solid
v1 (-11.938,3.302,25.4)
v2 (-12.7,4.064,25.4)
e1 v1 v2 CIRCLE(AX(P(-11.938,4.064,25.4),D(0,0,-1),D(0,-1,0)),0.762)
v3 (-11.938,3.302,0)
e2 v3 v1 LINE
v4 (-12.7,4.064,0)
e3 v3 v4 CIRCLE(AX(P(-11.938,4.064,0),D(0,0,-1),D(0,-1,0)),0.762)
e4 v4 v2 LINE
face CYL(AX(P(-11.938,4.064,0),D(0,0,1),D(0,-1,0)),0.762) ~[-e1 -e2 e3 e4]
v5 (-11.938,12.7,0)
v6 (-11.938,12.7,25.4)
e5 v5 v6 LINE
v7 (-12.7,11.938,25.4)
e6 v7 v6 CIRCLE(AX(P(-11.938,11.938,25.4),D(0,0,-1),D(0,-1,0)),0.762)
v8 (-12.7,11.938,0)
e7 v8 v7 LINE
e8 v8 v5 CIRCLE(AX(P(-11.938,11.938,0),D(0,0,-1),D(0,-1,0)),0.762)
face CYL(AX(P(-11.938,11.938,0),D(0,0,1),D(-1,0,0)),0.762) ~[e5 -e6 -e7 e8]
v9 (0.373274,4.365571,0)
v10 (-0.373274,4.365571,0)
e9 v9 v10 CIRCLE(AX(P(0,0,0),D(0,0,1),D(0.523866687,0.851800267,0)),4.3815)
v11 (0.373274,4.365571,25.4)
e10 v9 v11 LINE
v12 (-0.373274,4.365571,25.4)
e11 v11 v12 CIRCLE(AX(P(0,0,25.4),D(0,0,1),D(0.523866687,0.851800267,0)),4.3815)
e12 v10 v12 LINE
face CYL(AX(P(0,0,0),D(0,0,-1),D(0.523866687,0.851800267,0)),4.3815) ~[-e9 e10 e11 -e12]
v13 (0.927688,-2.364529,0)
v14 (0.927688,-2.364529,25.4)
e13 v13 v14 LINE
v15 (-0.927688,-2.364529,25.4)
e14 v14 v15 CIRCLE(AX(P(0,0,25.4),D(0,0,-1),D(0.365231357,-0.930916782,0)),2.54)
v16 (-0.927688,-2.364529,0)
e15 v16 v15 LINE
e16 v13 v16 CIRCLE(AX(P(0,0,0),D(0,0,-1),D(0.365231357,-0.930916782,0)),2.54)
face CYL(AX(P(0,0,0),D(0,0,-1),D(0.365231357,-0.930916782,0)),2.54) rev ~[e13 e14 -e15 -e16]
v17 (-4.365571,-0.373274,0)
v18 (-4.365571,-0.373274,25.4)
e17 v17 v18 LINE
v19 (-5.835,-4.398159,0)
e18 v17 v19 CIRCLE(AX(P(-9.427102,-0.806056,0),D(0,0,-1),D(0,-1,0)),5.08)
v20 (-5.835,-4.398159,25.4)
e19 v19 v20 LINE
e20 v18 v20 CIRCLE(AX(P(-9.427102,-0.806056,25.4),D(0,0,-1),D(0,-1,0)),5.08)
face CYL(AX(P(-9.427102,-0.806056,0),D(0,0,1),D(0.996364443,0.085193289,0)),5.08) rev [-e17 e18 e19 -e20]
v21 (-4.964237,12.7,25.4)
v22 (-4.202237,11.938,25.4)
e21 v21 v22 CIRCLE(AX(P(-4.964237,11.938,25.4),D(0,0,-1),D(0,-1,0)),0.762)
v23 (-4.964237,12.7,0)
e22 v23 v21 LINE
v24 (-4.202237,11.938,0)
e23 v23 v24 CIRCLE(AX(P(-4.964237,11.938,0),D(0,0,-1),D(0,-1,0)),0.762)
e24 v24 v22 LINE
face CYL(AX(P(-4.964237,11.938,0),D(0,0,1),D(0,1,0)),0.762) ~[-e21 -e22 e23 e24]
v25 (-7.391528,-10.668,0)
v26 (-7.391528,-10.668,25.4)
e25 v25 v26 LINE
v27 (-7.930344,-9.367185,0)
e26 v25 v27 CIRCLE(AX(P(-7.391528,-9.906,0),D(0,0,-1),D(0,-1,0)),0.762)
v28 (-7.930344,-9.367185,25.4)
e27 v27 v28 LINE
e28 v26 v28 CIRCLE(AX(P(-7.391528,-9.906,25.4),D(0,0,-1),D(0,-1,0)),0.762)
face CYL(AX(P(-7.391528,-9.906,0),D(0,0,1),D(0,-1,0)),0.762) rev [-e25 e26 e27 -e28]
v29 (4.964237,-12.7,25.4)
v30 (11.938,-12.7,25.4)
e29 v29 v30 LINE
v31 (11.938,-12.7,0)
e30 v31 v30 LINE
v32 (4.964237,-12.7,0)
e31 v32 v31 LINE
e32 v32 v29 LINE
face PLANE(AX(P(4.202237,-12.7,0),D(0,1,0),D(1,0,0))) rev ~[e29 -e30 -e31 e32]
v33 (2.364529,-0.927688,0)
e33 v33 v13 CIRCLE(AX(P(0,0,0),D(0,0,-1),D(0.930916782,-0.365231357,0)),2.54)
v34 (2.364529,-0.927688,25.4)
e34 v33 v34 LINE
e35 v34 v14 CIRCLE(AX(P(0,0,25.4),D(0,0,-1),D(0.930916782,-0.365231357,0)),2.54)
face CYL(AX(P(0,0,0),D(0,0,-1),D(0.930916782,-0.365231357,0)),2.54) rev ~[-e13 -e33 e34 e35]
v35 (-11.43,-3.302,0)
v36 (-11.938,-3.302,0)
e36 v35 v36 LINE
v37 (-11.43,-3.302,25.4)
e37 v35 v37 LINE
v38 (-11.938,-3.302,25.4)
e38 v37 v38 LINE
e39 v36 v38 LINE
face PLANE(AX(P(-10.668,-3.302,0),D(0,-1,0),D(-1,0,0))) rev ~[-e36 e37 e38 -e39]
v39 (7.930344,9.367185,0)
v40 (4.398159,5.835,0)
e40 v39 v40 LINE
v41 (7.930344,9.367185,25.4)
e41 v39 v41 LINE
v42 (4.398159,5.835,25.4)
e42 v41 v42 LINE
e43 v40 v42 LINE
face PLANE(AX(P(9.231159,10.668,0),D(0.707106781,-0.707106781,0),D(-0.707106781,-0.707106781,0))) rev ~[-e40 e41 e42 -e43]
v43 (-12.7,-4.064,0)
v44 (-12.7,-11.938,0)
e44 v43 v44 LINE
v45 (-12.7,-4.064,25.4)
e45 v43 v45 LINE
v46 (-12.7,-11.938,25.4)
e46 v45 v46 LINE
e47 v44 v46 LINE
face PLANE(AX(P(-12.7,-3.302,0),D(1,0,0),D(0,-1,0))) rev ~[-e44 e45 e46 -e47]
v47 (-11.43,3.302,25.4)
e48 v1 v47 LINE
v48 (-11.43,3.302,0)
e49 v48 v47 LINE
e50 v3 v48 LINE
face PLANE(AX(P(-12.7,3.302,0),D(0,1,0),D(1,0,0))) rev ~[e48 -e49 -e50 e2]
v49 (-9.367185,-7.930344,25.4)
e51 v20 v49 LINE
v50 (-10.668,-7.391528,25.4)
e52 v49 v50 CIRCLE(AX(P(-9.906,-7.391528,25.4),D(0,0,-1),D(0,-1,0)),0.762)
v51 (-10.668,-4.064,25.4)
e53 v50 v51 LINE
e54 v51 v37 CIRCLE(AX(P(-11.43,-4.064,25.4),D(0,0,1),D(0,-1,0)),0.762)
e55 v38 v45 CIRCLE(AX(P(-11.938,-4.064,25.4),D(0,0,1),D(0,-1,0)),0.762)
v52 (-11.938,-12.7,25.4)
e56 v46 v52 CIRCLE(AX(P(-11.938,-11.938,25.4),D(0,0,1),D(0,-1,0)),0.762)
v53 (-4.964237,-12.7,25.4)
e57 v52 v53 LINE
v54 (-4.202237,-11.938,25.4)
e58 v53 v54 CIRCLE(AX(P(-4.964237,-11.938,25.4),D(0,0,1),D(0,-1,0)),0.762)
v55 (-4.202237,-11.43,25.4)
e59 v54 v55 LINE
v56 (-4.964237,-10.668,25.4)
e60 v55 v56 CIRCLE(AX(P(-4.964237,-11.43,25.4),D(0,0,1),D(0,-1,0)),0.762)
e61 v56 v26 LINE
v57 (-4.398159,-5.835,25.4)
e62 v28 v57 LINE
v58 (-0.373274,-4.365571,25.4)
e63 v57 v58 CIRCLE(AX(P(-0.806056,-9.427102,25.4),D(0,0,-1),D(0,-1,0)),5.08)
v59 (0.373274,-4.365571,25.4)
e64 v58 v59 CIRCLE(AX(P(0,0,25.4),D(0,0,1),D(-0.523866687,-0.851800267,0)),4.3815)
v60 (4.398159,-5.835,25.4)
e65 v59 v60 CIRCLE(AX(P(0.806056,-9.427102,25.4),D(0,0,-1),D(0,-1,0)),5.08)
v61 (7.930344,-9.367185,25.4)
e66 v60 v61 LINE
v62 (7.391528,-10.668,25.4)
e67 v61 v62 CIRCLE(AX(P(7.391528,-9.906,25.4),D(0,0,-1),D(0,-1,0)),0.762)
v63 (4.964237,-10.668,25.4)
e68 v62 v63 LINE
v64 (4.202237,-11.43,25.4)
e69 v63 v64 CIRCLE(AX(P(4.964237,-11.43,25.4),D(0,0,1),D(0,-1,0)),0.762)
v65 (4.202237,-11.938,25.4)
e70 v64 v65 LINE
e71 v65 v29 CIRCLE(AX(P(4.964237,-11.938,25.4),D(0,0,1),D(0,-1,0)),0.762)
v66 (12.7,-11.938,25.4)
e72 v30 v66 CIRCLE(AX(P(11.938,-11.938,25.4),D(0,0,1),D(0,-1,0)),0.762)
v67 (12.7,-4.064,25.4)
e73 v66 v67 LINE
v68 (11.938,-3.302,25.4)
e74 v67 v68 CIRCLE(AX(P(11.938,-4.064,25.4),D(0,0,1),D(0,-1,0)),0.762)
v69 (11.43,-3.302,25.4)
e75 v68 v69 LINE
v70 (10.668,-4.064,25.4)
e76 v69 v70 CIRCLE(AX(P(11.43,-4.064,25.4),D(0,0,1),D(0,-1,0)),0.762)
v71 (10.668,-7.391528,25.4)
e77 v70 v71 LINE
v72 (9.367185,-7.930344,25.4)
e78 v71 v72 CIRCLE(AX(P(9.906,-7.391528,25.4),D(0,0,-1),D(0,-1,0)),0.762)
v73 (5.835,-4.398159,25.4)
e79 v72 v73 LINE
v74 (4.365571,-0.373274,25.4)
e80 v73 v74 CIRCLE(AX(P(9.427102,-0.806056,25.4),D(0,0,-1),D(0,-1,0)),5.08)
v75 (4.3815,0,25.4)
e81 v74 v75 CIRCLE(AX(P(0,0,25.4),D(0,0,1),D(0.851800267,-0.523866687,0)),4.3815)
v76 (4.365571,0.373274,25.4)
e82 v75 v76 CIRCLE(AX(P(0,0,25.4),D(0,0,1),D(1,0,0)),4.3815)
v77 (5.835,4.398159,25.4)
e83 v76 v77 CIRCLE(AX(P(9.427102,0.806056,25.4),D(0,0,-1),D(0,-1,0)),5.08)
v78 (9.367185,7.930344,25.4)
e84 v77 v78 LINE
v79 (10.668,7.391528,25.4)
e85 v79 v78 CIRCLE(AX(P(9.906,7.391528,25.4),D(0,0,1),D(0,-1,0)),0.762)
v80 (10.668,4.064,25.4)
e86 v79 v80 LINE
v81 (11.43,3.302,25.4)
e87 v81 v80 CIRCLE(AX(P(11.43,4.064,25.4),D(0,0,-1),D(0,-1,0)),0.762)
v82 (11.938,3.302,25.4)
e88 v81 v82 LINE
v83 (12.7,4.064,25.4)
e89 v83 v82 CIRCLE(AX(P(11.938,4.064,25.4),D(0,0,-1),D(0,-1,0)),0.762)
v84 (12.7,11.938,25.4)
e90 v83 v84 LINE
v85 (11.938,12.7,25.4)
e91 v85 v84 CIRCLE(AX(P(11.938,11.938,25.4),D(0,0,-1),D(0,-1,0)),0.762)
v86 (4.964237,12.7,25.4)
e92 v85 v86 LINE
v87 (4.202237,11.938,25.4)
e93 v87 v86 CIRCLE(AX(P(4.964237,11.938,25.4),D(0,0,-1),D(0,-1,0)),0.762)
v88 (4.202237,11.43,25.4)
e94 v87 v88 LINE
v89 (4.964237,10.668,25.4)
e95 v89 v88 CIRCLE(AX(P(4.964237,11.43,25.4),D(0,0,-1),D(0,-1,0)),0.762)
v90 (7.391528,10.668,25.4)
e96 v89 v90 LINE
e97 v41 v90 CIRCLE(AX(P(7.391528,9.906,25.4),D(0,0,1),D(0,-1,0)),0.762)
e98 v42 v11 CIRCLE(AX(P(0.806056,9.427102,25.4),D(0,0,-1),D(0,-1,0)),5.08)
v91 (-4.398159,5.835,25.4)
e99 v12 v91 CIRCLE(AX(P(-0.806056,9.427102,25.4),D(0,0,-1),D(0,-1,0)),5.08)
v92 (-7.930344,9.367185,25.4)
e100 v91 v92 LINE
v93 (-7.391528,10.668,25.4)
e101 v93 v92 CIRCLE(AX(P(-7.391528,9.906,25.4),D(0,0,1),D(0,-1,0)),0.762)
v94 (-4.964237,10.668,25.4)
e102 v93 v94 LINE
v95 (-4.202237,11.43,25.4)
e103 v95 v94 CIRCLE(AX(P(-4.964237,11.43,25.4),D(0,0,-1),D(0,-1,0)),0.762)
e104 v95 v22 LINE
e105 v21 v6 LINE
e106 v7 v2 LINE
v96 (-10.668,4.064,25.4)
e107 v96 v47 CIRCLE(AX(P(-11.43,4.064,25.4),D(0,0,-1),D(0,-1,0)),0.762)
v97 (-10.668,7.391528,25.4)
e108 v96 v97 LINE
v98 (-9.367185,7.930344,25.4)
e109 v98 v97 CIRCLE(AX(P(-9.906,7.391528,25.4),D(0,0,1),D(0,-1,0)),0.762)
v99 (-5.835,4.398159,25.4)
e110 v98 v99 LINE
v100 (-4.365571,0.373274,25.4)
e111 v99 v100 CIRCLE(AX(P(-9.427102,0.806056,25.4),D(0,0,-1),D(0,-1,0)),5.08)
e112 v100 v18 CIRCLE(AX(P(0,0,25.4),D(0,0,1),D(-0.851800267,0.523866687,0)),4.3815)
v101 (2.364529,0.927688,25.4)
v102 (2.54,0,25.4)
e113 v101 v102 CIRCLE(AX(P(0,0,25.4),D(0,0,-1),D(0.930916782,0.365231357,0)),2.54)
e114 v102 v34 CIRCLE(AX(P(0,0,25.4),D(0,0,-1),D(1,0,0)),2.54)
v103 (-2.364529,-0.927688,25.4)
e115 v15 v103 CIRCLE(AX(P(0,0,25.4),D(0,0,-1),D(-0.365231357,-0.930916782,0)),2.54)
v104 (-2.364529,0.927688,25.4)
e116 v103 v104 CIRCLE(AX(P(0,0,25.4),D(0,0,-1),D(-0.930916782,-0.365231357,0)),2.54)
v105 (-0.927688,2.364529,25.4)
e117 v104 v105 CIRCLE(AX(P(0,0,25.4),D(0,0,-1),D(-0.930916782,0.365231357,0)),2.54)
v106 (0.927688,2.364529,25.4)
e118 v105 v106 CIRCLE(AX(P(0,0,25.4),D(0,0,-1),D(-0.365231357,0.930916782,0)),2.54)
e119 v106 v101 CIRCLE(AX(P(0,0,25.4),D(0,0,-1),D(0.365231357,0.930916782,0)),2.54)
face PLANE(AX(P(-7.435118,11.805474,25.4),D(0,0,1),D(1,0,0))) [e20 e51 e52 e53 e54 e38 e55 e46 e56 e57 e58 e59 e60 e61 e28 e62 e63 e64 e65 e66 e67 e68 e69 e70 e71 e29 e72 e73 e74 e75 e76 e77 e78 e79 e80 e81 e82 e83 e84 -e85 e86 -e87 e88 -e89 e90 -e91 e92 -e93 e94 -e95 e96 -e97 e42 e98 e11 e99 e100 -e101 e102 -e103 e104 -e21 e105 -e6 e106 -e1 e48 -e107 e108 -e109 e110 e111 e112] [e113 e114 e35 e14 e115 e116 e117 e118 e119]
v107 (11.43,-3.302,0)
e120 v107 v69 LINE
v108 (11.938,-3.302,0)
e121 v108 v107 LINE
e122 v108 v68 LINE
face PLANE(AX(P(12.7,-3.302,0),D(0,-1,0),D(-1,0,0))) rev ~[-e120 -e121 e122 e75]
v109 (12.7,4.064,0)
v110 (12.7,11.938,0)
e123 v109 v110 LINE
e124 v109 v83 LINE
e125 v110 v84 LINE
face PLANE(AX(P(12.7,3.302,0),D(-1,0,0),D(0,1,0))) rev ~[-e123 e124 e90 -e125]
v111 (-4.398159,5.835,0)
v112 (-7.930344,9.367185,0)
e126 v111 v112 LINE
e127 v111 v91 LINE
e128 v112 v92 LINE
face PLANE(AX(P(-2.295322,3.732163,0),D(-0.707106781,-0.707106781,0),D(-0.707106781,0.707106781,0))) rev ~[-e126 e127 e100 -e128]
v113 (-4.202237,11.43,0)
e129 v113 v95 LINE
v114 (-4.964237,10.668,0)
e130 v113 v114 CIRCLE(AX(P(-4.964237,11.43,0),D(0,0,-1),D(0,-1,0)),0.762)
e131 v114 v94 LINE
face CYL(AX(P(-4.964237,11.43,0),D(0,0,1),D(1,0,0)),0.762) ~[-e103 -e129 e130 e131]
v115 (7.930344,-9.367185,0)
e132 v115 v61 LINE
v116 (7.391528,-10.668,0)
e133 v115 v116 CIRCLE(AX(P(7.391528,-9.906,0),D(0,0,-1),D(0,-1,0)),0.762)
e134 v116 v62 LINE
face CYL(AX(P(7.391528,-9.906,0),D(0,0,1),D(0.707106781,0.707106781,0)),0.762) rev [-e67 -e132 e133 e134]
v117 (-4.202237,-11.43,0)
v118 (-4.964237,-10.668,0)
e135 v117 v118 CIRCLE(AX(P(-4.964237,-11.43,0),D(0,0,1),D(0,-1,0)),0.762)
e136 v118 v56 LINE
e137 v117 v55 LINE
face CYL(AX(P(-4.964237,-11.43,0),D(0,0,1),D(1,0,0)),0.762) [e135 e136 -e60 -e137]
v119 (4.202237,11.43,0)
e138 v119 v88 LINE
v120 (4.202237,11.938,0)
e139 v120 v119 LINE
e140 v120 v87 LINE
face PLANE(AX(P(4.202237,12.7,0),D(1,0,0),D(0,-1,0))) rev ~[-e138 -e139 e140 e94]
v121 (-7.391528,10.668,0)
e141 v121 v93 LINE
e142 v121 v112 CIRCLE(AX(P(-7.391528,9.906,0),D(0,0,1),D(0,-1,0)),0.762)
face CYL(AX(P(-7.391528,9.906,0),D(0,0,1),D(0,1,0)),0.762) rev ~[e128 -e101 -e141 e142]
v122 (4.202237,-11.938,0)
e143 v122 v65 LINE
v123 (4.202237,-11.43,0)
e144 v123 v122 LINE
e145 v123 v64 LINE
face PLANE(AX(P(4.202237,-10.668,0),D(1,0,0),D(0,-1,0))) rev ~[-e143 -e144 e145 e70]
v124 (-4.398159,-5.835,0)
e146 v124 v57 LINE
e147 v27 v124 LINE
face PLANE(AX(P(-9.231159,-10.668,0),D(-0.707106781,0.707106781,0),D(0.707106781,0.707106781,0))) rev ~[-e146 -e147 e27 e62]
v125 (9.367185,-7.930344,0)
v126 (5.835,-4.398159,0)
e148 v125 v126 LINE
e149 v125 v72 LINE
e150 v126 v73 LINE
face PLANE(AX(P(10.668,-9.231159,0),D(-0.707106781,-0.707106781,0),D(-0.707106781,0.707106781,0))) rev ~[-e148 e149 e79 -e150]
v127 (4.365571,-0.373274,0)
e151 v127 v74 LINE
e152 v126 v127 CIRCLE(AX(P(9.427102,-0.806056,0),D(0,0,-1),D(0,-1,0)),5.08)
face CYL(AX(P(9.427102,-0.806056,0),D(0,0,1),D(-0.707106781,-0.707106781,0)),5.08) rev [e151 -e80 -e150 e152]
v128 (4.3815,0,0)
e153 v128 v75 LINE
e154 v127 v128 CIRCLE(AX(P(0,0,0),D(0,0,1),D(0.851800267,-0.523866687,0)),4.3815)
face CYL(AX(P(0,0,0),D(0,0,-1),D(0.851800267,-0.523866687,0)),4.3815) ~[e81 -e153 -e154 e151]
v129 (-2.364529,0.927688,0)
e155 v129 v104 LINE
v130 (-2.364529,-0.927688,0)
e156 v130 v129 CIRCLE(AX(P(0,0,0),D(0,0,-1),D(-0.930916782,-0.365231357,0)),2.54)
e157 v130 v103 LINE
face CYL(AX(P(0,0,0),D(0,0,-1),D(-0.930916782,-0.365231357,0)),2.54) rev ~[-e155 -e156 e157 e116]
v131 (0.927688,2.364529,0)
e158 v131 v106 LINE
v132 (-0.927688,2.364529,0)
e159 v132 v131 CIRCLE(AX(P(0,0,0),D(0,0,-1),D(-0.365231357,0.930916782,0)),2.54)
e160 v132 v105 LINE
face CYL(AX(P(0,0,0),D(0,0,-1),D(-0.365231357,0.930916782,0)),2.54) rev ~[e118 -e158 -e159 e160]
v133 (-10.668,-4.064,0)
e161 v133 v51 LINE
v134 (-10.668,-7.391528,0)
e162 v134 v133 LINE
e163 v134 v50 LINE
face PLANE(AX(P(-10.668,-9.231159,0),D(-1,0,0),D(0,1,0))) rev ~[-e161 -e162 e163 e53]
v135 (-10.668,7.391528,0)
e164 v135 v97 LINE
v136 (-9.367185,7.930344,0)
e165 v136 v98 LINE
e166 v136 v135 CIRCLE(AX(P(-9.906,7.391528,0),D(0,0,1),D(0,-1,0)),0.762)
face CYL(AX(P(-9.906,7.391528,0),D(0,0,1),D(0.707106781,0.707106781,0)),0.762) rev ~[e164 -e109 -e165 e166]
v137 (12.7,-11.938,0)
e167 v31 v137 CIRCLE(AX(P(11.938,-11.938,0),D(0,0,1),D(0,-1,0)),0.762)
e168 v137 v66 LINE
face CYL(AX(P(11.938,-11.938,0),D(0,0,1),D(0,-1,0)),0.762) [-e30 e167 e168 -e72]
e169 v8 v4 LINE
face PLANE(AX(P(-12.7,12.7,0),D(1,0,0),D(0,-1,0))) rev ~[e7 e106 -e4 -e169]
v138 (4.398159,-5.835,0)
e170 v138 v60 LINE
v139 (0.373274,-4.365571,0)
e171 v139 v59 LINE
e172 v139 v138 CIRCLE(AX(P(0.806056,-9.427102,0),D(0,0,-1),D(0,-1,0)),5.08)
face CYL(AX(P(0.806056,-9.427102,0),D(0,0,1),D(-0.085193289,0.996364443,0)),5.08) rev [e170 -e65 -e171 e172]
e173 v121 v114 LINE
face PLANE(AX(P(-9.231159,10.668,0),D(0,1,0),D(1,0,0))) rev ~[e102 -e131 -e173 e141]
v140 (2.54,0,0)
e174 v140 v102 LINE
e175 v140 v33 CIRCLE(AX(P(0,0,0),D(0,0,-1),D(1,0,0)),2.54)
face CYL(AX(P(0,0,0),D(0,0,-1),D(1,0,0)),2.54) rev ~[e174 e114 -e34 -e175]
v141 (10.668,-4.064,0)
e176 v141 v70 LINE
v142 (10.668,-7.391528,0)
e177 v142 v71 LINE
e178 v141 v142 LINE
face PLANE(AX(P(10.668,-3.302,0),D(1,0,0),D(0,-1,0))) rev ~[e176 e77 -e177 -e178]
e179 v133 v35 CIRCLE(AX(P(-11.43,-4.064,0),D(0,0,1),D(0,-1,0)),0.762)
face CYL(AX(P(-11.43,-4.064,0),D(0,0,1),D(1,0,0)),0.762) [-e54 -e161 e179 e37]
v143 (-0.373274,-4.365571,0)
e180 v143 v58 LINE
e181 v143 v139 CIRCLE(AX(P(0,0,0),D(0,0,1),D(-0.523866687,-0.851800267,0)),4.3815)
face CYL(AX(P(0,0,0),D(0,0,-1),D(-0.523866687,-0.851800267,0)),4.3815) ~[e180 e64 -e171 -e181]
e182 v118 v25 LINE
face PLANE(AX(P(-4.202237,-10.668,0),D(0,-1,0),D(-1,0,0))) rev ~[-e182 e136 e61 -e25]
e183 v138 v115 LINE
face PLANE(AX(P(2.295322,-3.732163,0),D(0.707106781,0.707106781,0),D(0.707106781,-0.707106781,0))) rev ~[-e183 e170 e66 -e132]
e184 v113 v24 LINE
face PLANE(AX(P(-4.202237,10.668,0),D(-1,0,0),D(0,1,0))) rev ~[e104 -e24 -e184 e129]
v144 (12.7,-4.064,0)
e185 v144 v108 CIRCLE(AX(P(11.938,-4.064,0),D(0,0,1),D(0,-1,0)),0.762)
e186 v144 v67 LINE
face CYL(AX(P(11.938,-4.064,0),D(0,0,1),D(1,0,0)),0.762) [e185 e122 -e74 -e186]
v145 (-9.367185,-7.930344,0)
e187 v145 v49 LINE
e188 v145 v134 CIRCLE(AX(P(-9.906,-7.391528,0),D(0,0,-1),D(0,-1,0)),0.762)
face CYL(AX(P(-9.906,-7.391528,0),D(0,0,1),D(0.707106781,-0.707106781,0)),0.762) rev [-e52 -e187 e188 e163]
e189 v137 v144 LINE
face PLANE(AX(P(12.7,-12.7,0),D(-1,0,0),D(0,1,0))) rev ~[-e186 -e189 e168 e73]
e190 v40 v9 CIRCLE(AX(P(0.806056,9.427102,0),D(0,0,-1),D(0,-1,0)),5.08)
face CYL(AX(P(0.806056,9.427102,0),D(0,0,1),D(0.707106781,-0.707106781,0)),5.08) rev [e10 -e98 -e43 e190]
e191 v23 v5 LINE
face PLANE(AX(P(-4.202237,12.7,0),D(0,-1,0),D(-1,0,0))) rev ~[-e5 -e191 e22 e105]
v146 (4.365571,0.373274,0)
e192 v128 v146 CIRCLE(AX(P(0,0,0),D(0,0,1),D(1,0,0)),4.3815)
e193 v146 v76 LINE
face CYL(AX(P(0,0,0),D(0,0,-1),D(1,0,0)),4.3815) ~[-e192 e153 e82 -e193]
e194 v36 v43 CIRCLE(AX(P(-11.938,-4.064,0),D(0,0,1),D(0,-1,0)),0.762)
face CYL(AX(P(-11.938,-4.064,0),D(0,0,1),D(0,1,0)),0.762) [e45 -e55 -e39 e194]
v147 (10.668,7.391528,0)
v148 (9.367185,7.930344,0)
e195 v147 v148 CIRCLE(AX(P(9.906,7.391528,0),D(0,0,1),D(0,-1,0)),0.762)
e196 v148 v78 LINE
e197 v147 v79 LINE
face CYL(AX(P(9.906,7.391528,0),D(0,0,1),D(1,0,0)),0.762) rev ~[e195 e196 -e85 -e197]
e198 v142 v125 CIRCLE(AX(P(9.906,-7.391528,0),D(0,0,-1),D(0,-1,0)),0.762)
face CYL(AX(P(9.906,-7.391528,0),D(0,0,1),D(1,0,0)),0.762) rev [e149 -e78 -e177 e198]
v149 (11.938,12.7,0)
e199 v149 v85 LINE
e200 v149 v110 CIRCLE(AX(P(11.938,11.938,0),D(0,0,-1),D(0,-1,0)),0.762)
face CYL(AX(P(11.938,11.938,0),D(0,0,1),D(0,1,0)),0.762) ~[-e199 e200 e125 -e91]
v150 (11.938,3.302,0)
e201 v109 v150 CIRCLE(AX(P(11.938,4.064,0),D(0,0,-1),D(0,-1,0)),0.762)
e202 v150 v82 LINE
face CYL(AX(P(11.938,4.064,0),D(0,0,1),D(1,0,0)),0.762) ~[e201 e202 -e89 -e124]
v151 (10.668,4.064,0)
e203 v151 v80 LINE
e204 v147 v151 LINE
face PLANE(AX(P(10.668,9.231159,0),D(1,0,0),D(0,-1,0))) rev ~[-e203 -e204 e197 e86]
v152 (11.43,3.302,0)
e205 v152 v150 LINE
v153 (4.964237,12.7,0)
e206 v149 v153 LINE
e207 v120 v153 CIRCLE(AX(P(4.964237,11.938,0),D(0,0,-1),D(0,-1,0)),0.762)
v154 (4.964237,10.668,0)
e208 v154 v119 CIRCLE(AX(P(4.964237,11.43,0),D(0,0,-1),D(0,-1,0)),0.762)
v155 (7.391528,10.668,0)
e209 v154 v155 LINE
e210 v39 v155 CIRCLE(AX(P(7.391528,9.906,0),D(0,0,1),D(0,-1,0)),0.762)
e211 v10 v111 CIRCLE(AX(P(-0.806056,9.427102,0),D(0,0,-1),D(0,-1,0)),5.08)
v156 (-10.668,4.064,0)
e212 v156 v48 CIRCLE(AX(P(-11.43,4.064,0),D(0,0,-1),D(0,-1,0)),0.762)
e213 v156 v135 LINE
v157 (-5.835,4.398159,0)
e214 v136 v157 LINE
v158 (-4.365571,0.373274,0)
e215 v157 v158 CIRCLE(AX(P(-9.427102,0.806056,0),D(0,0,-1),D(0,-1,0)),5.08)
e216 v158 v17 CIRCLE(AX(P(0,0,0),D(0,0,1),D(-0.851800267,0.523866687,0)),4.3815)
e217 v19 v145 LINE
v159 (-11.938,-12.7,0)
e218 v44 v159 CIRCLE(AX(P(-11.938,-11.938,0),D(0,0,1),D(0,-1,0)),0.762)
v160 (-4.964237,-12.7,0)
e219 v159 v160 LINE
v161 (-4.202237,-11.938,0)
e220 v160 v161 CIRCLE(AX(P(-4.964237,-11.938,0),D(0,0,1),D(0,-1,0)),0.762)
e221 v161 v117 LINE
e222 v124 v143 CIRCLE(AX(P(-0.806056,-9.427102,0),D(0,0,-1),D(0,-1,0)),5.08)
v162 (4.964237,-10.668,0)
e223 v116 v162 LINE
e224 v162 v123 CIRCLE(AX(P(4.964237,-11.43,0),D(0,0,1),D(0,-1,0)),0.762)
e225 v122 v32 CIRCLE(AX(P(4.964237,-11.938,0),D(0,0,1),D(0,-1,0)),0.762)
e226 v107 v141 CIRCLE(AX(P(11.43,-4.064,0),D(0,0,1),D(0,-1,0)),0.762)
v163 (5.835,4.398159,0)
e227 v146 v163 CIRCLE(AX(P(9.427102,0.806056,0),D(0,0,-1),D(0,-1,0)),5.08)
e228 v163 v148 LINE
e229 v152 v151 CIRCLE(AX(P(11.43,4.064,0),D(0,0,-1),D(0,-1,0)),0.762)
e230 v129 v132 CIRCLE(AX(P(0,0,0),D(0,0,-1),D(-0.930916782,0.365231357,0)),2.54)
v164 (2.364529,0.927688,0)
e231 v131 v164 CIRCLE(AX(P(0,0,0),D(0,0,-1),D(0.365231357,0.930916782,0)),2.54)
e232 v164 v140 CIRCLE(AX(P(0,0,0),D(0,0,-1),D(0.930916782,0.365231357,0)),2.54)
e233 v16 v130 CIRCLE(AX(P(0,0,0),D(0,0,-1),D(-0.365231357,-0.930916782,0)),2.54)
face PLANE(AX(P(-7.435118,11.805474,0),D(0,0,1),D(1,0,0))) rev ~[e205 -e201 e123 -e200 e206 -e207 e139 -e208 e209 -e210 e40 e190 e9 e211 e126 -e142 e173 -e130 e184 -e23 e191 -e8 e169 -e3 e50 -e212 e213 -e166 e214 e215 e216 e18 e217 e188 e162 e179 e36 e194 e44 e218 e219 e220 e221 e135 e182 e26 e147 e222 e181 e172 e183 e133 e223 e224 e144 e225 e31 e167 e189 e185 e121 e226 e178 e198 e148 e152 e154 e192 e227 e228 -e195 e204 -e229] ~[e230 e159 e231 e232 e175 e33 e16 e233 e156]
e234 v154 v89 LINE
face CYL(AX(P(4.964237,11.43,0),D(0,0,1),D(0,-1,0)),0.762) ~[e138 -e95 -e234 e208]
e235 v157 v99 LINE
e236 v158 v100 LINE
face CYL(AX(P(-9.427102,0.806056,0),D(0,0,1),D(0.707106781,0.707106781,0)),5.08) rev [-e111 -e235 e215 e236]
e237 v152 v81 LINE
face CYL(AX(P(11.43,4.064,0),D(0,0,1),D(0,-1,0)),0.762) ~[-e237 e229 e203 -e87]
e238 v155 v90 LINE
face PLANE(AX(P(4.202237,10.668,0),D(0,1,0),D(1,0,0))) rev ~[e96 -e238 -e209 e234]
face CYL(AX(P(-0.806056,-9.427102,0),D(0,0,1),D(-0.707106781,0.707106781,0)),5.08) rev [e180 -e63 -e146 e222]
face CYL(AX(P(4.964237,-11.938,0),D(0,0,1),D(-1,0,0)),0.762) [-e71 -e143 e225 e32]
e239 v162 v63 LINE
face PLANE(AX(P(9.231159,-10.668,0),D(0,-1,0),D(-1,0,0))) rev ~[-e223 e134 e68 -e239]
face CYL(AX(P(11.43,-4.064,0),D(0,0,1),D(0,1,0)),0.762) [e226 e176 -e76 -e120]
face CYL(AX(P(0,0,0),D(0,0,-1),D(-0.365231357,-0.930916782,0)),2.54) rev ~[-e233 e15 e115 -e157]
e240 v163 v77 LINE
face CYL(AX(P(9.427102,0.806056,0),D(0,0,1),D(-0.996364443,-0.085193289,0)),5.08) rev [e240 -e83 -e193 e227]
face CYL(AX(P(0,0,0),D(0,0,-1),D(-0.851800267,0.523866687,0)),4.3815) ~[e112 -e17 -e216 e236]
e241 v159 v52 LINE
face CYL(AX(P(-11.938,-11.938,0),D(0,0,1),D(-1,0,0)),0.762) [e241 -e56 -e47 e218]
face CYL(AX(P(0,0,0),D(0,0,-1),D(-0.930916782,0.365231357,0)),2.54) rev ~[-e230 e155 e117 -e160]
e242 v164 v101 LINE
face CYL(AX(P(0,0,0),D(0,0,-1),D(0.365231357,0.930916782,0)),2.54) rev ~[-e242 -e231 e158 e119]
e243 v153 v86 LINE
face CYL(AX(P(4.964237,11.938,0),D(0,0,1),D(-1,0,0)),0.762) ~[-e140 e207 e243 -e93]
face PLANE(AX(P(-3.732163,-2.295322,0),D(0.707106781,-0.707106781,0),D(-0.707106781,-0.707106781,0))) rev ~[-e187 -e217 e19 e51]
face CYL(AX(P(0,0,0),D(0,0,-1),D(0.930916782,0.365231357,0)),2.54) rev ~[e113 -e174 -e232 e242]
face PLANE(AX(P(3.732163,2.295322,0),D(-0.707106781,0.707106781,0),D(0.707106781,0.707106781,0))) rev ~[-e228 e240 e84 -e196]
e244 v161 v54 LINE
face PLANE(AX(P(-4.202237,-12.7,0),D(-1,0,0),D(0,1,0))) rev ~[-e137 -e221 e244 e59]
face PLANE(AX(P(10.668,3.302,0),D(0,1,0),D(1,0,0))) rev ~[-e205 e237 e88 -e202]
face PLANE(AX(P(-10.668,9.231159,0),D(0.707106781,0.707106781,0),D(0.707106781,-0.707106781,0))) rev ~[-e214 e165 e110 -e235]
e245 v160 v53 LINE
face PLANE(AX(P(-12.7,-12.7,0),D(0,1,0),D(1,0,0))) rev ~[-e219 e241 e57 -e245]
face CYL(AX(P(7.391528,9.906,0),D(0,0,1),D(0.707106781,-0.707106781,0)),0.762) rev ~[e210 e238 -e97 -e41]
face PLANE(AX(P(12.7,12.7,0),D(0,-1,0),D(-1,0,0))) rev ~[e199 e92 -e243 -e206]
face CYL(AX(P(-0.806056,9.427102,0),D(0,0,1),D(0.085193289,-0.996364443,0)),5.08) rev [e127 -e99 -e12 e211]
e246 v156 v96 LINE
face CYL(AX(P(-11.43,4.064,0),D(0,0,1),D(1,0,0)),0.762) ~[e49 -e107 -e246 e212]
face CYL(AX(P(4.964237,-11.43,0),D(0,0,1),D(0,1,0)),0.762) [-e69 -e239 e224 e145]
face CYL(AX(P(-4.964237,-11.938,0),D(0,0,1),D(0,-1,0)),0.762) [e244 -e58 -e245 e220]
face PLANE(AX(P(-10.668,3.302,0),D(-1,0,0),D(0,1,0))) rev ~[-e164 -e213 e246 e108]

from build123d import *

# Parameters (mm, degrees)
F1_DEPTH = 25.4
F2_R     = 5.08
F3_R     = 0.762


with BuildPart() as f1:
    # F0 (on Top) → F1 (new body)
    with BuildSketch(Plane.XY):
        Polygon((-11.2631590206, 12.7), (-9.2311590206, 10.668), (-4.2022368871, 10.668), (-4.2022368871, 12.7), align=None)
        Polygon((-12.7, 11.2631590206), (-10.668, 9.2311590206), (-10.668, 10.668), (-9.2311590206, 10.668), (-11.2631590206, 12.7), (-12.7, 12.7), align=None)
        Polygon((-10.668, 3.302), (-10.668, 9.2311590206), (-12.7, 11.2631590206), (-12.7, 3.302), align=None)
        Polygon((-12.7, -3.302), (-12.7, -11.2631590206), (-10.668, -9.2311590206), (-10.668, -3.302), align=None)
        Polygon((-12.7, -12.7), (-11.2631590206, -12.7), (-9.2311590206, -10.668), (-10.668, -10.668), (-10.668, -9.2311590206), (-12.7, -11.2631590206), align=None)
        Polygon((-11.2631590206, -12.7), (-4.2022368871, -12.7), (-4.2022368871, -10.668), (-9.2311590206, -10.668), align=None)
        Polygon((4.2022368871, -12.7), (11.2631590206, -12.7), (9.2311590206, -10.668), (4.2022368871, -10.668), align=None)
        Polygon((11.2631590206, -12.7), (12.7, -12.7), (12.7, -11.2631590206), (10.668, -9.2311590206), (10.668, -10.668), (9.2311590206, -10.668), align=None)
        Polygon((10.668, -9.2311590206), (12.7, -11.2631590206), (12.7, -3.302), (10.668, -3.302), align=None)
        Polygon((10.668, 3.302), (12.7, 3.302), (12.7, 11.2631590206), (10.668, 9.2311590206), align=None)
        Polygon((10.668, 9.2311590206), (12.7, 11.2631590206), (12.7, 12.7), (11.2631590206, 12.7), (9.2311590206, 10.668), (10.668, 10.668), align=None)
        Polygon((9.2311590206, 10.668), (11.2631590206, 12.7), (4.2022368871, 12.7), (4.2022368871, 10.668), align=None)
        with BuildLine():
            Line((-10.668, 9.2311590206), (-3.7321628684, 2.295321889))
            ThreePointArc((-3.7321628684, 2.295321889), (-3.0981883618, 3.0981883618), (-2.295321889, 3.7321628684))
            Line((-2.295321889, 3.7321628684), (-9.2311590206, 10.668))
            Line((-9.2311590206, 10.668), (-10.668, 10.668))
            Line((-10.668, 10.668), (-10.668, 9.2311590206))
        make_face()
        with BuildLine():
            Line((3.7321628684, 2.295321889), (10.668, 9.2311590206))
            Line((10.668, 9.2311590206), (10.668, 10.668))
            Line((10.668, 10.668), (9.2311590206, 10.668))
            Line((9.2311590206, 10.668), (2.295321889, 3.7321628684))
            ThreePointArc((2.295321889, 3.7321628684), (3.0981883618, 3.0981883618), (3.7321628684, 2.295321889))
        make_face()
        with BuildLine():
            Line((-9.2311590206, -10.668), (-2.295321889, -3.7321628684))
            ThreePointArc((-2.295321889, -3.7321628684), (-3.0981883618, -3.0981883618), (-3.7321628684, -2.295321889))
            Line((-3.7321628684, -2.295321889), (-10.668, -9.2311590206))
            Line((-10.668, -9.2311590206), (-10.668, -10.668))
            Line((-10.668, -10.668), (-9.2311590206, -10.668))
        make_face()
        with BuildLine():
            Line((2.295321889, -3.7321628684), (9.2311590206, -10.668))
            Line((9.2311590206, -10.668), (10.668, -10.668))
            Line((10.668, -10.668), (10.668, -9.2311590206))
            Line((10.668, -9.2311590206), (3.7321628684, -2.295321889))
            ThreePointArc((3.7321628684, -2.295321889), (3.0981883618, -3.0981883618), (2.295321889, -3.7321628684))
        make_face()
        with BuildLine():
            Line((0.9276876477, 2.3645286271), (2.295321889, 3.7321628684))
            ThreePointArc((2.295321889, 3.7321628684), (0, 4.3815), (-2.295321889, 3.7321628684))
            Line((-2.295321889, 3.7321628684), (-0.9276876477, 2.3645286271))
            ThreePointArc((-0.9276876477, 2.3645286271), (0, 2.54), (0.9276876477, 2.3645286271))
        make_face()
        with BuildLine():
            ThreePointArc((-2.295321889, 3.7321628684), (-3.0981883618, 3.0981883618), (-3.7321628684, 2.295321889))
            Line((-3.7321628684, 2.295321889), (-2.3645286271, 0.9276876477))
            ThreePointArc((-2.3645286271, 0.9276876477), (-1.7960512242, 1.7960512242), (-0.9276876477, 2.3645286271))
            Line((-0.9276876477, 2.3645286271), (-2.295321889, 3.7321628684))
        make_face()
        with BuildLine():
            ThreePointArc((-3.7321628684, 2.295321889), (-4.3815, 0), (-3.7321628684, -2.295321889))
            Line((-3.7321628684, -2.295321889), (-2.3645286271, -0.9276876477))
            ThreePointArc((-2.3645286271, -0.9276876477), (-2.54, 0), (-2.3645286271, 0.9276876477))
            Line((-2.3645286271, 0.9276876477), (-3.7321628684, 2.295321889))
        make_face()
        with BuildLine():
            ThreePointArc((-3.7321628684, -2.295321889), (-3.0981883618, -3.0981883618), (-2.295321889, -3.7321628684))
            Line((-2.295321889, -3.7321628684), (-0.9276876477, -2.3645286271))
            ThreePointArc((-0.9276876477, -2.3645286271), (-1.7960512242, -1.7960512242), (-2.3645286271, -0.9276876477))
            Line((-2.3645286271, -0.9276876477), (-3.7321628684, -2.295321889))
        make_face()
        with BuildLine():
            ThreePointArc((-2.295321889, -3.7321628684), (0, -4.3815), (2.295321889, -3.7321628684))
            Line((2.295321889, -3.7321628684), (0.9276876477, -2.3645286271))
            ThreePointArc((0.9276876477, -2.3645286271), (0, -2.54), (-0.9276876477, -2.3645286271))
            Line((-0.9276876477, -2.3645286271), (-2.295321889, -3.7321628684))
        make_face()
        with BuildLine():
            Line((2.3645286271, 0.9276876477), (3.7321628684, 2.295321889))
            ThreePointArc((3.7321628684, 2.295321889), (3.0981883618, 3.0981883618), (2.295321889, 3.7321628684))
            Line((2.295321889, 3.7321628684), (0.9276876477, 2.3645286271))
            ThreePointArc((0.9276876477, 2.3645286271), (1.7960512242, 1.7960512242), (2.3645286271, 0.9276876477))
        make_face()
        with BuildLine():
            Line((2.3645286271, -0.9276876477), (3.7321628684, -2.295321889))
            ThreePointArc((3.7321628684, -2.295321889), (4.2160416185, -1.1927008515), (4.3815, 0))
            ThreePointArc((4.3815, 0), (4.2160416185, 1.1927008515), (3.7321628684, 2.295321889))
            Line((3.7321628684, 2.295321889), (2.3645286271, 0.9276876477))
            ThreePointArc((2.3645286271, 0.9276876477), (2.4957466531, 0.4720684734), (2.54, 0))
            ThreePointArc((2.54, 0), (2.4957466531, -0.4720684734), (2.3645286271, -0.9276876477))
        make_face()
        with BuildLine():
            Line((0.9276876477, -2.3645286271), (2.295321889, -3.7321628684))
            ThreePointArc((2.295321889, -3.7321628684), (3.0981883618, -3.0981883618), (3.7321628684, -2.295321889))
            Line((3.7321628684, -2.295321889), (2.3645286271, -0.9276876477))
            ThreePointArc((2.3645286271, -0.9276876477), (1.7960512242, -1.7960512242), (0.9276876477, -2.3645286271))
        make_face()
    extrude(amount=F1_DEPTH)

    # F2
    f2_edges = [f1.edges().sort_by_distance(p)[0] for p in [
        (-3.732163, 2.295322, 12.7),
        (-3.732163, -2.295322, 12.7),
        (-2.295322, 3.732163, 12.7),
        (2.295322, 3.732163, 12.7),
        (-2.295322, -3.732163, 12.7),
        (2.295322, -3.732163, 12.7),
        (3.732163, -2.295322, 12.7),
        (3.732163, 2.295322, 12.7),
    ]]
    fillet(f2_edges, radius=F2_R)

    # F3
    f3_edges = [f1.edges().sort_by_distance(p)[0] for p in [
        (9.231159, 10.668, 12.7),
        (10.668, 9.231159, 12.7),
        (-9.231159, 10.668, 12.7),
        (-10.668, 9.231159, 12.7),
        (10.668, -9.231159, 12.7),
        (9.231159, -10.668, 12.7),
        (-9.231159, -10.668, 12.7),
        (-10.668, -9.231159, 12.7),
        (-12.7, 12.7, 12.7),
        (12.7, 12.7, 12.7),
        (12.7, -12.7, 12.7),
        (-12.7, -12.7, 12.7),
        (12.7, 3.302, 12.7),
        (10.668, 3.302, 12.7),
        (4.202237, 10.668, 12.7),
        (4.202237, 12.7, 12.7),
        (-4.202237, 12.7, 12.7),
        (-4.202237, 10.668, 12.7),
        (-10.668, 3.302, 12.7),
        (-12.7, 3.302, 12.7),
        (-10.668, -3.302, 12.7),
        (-12.7, -3.302, 12.7),
        (4.202237, -10.668, 12.7),
        (4.202237, -12.7, 12.7),
        (10.668, -3.302, 12.7),
        (12.7, -3.302, 12.7),
        (-4.202237, -12.7, 12.7),
        (-4.202237, -10.668, 12.7),
    ]]
    fillet(f3_edges, radius=F3_R)


solid = f1.part
